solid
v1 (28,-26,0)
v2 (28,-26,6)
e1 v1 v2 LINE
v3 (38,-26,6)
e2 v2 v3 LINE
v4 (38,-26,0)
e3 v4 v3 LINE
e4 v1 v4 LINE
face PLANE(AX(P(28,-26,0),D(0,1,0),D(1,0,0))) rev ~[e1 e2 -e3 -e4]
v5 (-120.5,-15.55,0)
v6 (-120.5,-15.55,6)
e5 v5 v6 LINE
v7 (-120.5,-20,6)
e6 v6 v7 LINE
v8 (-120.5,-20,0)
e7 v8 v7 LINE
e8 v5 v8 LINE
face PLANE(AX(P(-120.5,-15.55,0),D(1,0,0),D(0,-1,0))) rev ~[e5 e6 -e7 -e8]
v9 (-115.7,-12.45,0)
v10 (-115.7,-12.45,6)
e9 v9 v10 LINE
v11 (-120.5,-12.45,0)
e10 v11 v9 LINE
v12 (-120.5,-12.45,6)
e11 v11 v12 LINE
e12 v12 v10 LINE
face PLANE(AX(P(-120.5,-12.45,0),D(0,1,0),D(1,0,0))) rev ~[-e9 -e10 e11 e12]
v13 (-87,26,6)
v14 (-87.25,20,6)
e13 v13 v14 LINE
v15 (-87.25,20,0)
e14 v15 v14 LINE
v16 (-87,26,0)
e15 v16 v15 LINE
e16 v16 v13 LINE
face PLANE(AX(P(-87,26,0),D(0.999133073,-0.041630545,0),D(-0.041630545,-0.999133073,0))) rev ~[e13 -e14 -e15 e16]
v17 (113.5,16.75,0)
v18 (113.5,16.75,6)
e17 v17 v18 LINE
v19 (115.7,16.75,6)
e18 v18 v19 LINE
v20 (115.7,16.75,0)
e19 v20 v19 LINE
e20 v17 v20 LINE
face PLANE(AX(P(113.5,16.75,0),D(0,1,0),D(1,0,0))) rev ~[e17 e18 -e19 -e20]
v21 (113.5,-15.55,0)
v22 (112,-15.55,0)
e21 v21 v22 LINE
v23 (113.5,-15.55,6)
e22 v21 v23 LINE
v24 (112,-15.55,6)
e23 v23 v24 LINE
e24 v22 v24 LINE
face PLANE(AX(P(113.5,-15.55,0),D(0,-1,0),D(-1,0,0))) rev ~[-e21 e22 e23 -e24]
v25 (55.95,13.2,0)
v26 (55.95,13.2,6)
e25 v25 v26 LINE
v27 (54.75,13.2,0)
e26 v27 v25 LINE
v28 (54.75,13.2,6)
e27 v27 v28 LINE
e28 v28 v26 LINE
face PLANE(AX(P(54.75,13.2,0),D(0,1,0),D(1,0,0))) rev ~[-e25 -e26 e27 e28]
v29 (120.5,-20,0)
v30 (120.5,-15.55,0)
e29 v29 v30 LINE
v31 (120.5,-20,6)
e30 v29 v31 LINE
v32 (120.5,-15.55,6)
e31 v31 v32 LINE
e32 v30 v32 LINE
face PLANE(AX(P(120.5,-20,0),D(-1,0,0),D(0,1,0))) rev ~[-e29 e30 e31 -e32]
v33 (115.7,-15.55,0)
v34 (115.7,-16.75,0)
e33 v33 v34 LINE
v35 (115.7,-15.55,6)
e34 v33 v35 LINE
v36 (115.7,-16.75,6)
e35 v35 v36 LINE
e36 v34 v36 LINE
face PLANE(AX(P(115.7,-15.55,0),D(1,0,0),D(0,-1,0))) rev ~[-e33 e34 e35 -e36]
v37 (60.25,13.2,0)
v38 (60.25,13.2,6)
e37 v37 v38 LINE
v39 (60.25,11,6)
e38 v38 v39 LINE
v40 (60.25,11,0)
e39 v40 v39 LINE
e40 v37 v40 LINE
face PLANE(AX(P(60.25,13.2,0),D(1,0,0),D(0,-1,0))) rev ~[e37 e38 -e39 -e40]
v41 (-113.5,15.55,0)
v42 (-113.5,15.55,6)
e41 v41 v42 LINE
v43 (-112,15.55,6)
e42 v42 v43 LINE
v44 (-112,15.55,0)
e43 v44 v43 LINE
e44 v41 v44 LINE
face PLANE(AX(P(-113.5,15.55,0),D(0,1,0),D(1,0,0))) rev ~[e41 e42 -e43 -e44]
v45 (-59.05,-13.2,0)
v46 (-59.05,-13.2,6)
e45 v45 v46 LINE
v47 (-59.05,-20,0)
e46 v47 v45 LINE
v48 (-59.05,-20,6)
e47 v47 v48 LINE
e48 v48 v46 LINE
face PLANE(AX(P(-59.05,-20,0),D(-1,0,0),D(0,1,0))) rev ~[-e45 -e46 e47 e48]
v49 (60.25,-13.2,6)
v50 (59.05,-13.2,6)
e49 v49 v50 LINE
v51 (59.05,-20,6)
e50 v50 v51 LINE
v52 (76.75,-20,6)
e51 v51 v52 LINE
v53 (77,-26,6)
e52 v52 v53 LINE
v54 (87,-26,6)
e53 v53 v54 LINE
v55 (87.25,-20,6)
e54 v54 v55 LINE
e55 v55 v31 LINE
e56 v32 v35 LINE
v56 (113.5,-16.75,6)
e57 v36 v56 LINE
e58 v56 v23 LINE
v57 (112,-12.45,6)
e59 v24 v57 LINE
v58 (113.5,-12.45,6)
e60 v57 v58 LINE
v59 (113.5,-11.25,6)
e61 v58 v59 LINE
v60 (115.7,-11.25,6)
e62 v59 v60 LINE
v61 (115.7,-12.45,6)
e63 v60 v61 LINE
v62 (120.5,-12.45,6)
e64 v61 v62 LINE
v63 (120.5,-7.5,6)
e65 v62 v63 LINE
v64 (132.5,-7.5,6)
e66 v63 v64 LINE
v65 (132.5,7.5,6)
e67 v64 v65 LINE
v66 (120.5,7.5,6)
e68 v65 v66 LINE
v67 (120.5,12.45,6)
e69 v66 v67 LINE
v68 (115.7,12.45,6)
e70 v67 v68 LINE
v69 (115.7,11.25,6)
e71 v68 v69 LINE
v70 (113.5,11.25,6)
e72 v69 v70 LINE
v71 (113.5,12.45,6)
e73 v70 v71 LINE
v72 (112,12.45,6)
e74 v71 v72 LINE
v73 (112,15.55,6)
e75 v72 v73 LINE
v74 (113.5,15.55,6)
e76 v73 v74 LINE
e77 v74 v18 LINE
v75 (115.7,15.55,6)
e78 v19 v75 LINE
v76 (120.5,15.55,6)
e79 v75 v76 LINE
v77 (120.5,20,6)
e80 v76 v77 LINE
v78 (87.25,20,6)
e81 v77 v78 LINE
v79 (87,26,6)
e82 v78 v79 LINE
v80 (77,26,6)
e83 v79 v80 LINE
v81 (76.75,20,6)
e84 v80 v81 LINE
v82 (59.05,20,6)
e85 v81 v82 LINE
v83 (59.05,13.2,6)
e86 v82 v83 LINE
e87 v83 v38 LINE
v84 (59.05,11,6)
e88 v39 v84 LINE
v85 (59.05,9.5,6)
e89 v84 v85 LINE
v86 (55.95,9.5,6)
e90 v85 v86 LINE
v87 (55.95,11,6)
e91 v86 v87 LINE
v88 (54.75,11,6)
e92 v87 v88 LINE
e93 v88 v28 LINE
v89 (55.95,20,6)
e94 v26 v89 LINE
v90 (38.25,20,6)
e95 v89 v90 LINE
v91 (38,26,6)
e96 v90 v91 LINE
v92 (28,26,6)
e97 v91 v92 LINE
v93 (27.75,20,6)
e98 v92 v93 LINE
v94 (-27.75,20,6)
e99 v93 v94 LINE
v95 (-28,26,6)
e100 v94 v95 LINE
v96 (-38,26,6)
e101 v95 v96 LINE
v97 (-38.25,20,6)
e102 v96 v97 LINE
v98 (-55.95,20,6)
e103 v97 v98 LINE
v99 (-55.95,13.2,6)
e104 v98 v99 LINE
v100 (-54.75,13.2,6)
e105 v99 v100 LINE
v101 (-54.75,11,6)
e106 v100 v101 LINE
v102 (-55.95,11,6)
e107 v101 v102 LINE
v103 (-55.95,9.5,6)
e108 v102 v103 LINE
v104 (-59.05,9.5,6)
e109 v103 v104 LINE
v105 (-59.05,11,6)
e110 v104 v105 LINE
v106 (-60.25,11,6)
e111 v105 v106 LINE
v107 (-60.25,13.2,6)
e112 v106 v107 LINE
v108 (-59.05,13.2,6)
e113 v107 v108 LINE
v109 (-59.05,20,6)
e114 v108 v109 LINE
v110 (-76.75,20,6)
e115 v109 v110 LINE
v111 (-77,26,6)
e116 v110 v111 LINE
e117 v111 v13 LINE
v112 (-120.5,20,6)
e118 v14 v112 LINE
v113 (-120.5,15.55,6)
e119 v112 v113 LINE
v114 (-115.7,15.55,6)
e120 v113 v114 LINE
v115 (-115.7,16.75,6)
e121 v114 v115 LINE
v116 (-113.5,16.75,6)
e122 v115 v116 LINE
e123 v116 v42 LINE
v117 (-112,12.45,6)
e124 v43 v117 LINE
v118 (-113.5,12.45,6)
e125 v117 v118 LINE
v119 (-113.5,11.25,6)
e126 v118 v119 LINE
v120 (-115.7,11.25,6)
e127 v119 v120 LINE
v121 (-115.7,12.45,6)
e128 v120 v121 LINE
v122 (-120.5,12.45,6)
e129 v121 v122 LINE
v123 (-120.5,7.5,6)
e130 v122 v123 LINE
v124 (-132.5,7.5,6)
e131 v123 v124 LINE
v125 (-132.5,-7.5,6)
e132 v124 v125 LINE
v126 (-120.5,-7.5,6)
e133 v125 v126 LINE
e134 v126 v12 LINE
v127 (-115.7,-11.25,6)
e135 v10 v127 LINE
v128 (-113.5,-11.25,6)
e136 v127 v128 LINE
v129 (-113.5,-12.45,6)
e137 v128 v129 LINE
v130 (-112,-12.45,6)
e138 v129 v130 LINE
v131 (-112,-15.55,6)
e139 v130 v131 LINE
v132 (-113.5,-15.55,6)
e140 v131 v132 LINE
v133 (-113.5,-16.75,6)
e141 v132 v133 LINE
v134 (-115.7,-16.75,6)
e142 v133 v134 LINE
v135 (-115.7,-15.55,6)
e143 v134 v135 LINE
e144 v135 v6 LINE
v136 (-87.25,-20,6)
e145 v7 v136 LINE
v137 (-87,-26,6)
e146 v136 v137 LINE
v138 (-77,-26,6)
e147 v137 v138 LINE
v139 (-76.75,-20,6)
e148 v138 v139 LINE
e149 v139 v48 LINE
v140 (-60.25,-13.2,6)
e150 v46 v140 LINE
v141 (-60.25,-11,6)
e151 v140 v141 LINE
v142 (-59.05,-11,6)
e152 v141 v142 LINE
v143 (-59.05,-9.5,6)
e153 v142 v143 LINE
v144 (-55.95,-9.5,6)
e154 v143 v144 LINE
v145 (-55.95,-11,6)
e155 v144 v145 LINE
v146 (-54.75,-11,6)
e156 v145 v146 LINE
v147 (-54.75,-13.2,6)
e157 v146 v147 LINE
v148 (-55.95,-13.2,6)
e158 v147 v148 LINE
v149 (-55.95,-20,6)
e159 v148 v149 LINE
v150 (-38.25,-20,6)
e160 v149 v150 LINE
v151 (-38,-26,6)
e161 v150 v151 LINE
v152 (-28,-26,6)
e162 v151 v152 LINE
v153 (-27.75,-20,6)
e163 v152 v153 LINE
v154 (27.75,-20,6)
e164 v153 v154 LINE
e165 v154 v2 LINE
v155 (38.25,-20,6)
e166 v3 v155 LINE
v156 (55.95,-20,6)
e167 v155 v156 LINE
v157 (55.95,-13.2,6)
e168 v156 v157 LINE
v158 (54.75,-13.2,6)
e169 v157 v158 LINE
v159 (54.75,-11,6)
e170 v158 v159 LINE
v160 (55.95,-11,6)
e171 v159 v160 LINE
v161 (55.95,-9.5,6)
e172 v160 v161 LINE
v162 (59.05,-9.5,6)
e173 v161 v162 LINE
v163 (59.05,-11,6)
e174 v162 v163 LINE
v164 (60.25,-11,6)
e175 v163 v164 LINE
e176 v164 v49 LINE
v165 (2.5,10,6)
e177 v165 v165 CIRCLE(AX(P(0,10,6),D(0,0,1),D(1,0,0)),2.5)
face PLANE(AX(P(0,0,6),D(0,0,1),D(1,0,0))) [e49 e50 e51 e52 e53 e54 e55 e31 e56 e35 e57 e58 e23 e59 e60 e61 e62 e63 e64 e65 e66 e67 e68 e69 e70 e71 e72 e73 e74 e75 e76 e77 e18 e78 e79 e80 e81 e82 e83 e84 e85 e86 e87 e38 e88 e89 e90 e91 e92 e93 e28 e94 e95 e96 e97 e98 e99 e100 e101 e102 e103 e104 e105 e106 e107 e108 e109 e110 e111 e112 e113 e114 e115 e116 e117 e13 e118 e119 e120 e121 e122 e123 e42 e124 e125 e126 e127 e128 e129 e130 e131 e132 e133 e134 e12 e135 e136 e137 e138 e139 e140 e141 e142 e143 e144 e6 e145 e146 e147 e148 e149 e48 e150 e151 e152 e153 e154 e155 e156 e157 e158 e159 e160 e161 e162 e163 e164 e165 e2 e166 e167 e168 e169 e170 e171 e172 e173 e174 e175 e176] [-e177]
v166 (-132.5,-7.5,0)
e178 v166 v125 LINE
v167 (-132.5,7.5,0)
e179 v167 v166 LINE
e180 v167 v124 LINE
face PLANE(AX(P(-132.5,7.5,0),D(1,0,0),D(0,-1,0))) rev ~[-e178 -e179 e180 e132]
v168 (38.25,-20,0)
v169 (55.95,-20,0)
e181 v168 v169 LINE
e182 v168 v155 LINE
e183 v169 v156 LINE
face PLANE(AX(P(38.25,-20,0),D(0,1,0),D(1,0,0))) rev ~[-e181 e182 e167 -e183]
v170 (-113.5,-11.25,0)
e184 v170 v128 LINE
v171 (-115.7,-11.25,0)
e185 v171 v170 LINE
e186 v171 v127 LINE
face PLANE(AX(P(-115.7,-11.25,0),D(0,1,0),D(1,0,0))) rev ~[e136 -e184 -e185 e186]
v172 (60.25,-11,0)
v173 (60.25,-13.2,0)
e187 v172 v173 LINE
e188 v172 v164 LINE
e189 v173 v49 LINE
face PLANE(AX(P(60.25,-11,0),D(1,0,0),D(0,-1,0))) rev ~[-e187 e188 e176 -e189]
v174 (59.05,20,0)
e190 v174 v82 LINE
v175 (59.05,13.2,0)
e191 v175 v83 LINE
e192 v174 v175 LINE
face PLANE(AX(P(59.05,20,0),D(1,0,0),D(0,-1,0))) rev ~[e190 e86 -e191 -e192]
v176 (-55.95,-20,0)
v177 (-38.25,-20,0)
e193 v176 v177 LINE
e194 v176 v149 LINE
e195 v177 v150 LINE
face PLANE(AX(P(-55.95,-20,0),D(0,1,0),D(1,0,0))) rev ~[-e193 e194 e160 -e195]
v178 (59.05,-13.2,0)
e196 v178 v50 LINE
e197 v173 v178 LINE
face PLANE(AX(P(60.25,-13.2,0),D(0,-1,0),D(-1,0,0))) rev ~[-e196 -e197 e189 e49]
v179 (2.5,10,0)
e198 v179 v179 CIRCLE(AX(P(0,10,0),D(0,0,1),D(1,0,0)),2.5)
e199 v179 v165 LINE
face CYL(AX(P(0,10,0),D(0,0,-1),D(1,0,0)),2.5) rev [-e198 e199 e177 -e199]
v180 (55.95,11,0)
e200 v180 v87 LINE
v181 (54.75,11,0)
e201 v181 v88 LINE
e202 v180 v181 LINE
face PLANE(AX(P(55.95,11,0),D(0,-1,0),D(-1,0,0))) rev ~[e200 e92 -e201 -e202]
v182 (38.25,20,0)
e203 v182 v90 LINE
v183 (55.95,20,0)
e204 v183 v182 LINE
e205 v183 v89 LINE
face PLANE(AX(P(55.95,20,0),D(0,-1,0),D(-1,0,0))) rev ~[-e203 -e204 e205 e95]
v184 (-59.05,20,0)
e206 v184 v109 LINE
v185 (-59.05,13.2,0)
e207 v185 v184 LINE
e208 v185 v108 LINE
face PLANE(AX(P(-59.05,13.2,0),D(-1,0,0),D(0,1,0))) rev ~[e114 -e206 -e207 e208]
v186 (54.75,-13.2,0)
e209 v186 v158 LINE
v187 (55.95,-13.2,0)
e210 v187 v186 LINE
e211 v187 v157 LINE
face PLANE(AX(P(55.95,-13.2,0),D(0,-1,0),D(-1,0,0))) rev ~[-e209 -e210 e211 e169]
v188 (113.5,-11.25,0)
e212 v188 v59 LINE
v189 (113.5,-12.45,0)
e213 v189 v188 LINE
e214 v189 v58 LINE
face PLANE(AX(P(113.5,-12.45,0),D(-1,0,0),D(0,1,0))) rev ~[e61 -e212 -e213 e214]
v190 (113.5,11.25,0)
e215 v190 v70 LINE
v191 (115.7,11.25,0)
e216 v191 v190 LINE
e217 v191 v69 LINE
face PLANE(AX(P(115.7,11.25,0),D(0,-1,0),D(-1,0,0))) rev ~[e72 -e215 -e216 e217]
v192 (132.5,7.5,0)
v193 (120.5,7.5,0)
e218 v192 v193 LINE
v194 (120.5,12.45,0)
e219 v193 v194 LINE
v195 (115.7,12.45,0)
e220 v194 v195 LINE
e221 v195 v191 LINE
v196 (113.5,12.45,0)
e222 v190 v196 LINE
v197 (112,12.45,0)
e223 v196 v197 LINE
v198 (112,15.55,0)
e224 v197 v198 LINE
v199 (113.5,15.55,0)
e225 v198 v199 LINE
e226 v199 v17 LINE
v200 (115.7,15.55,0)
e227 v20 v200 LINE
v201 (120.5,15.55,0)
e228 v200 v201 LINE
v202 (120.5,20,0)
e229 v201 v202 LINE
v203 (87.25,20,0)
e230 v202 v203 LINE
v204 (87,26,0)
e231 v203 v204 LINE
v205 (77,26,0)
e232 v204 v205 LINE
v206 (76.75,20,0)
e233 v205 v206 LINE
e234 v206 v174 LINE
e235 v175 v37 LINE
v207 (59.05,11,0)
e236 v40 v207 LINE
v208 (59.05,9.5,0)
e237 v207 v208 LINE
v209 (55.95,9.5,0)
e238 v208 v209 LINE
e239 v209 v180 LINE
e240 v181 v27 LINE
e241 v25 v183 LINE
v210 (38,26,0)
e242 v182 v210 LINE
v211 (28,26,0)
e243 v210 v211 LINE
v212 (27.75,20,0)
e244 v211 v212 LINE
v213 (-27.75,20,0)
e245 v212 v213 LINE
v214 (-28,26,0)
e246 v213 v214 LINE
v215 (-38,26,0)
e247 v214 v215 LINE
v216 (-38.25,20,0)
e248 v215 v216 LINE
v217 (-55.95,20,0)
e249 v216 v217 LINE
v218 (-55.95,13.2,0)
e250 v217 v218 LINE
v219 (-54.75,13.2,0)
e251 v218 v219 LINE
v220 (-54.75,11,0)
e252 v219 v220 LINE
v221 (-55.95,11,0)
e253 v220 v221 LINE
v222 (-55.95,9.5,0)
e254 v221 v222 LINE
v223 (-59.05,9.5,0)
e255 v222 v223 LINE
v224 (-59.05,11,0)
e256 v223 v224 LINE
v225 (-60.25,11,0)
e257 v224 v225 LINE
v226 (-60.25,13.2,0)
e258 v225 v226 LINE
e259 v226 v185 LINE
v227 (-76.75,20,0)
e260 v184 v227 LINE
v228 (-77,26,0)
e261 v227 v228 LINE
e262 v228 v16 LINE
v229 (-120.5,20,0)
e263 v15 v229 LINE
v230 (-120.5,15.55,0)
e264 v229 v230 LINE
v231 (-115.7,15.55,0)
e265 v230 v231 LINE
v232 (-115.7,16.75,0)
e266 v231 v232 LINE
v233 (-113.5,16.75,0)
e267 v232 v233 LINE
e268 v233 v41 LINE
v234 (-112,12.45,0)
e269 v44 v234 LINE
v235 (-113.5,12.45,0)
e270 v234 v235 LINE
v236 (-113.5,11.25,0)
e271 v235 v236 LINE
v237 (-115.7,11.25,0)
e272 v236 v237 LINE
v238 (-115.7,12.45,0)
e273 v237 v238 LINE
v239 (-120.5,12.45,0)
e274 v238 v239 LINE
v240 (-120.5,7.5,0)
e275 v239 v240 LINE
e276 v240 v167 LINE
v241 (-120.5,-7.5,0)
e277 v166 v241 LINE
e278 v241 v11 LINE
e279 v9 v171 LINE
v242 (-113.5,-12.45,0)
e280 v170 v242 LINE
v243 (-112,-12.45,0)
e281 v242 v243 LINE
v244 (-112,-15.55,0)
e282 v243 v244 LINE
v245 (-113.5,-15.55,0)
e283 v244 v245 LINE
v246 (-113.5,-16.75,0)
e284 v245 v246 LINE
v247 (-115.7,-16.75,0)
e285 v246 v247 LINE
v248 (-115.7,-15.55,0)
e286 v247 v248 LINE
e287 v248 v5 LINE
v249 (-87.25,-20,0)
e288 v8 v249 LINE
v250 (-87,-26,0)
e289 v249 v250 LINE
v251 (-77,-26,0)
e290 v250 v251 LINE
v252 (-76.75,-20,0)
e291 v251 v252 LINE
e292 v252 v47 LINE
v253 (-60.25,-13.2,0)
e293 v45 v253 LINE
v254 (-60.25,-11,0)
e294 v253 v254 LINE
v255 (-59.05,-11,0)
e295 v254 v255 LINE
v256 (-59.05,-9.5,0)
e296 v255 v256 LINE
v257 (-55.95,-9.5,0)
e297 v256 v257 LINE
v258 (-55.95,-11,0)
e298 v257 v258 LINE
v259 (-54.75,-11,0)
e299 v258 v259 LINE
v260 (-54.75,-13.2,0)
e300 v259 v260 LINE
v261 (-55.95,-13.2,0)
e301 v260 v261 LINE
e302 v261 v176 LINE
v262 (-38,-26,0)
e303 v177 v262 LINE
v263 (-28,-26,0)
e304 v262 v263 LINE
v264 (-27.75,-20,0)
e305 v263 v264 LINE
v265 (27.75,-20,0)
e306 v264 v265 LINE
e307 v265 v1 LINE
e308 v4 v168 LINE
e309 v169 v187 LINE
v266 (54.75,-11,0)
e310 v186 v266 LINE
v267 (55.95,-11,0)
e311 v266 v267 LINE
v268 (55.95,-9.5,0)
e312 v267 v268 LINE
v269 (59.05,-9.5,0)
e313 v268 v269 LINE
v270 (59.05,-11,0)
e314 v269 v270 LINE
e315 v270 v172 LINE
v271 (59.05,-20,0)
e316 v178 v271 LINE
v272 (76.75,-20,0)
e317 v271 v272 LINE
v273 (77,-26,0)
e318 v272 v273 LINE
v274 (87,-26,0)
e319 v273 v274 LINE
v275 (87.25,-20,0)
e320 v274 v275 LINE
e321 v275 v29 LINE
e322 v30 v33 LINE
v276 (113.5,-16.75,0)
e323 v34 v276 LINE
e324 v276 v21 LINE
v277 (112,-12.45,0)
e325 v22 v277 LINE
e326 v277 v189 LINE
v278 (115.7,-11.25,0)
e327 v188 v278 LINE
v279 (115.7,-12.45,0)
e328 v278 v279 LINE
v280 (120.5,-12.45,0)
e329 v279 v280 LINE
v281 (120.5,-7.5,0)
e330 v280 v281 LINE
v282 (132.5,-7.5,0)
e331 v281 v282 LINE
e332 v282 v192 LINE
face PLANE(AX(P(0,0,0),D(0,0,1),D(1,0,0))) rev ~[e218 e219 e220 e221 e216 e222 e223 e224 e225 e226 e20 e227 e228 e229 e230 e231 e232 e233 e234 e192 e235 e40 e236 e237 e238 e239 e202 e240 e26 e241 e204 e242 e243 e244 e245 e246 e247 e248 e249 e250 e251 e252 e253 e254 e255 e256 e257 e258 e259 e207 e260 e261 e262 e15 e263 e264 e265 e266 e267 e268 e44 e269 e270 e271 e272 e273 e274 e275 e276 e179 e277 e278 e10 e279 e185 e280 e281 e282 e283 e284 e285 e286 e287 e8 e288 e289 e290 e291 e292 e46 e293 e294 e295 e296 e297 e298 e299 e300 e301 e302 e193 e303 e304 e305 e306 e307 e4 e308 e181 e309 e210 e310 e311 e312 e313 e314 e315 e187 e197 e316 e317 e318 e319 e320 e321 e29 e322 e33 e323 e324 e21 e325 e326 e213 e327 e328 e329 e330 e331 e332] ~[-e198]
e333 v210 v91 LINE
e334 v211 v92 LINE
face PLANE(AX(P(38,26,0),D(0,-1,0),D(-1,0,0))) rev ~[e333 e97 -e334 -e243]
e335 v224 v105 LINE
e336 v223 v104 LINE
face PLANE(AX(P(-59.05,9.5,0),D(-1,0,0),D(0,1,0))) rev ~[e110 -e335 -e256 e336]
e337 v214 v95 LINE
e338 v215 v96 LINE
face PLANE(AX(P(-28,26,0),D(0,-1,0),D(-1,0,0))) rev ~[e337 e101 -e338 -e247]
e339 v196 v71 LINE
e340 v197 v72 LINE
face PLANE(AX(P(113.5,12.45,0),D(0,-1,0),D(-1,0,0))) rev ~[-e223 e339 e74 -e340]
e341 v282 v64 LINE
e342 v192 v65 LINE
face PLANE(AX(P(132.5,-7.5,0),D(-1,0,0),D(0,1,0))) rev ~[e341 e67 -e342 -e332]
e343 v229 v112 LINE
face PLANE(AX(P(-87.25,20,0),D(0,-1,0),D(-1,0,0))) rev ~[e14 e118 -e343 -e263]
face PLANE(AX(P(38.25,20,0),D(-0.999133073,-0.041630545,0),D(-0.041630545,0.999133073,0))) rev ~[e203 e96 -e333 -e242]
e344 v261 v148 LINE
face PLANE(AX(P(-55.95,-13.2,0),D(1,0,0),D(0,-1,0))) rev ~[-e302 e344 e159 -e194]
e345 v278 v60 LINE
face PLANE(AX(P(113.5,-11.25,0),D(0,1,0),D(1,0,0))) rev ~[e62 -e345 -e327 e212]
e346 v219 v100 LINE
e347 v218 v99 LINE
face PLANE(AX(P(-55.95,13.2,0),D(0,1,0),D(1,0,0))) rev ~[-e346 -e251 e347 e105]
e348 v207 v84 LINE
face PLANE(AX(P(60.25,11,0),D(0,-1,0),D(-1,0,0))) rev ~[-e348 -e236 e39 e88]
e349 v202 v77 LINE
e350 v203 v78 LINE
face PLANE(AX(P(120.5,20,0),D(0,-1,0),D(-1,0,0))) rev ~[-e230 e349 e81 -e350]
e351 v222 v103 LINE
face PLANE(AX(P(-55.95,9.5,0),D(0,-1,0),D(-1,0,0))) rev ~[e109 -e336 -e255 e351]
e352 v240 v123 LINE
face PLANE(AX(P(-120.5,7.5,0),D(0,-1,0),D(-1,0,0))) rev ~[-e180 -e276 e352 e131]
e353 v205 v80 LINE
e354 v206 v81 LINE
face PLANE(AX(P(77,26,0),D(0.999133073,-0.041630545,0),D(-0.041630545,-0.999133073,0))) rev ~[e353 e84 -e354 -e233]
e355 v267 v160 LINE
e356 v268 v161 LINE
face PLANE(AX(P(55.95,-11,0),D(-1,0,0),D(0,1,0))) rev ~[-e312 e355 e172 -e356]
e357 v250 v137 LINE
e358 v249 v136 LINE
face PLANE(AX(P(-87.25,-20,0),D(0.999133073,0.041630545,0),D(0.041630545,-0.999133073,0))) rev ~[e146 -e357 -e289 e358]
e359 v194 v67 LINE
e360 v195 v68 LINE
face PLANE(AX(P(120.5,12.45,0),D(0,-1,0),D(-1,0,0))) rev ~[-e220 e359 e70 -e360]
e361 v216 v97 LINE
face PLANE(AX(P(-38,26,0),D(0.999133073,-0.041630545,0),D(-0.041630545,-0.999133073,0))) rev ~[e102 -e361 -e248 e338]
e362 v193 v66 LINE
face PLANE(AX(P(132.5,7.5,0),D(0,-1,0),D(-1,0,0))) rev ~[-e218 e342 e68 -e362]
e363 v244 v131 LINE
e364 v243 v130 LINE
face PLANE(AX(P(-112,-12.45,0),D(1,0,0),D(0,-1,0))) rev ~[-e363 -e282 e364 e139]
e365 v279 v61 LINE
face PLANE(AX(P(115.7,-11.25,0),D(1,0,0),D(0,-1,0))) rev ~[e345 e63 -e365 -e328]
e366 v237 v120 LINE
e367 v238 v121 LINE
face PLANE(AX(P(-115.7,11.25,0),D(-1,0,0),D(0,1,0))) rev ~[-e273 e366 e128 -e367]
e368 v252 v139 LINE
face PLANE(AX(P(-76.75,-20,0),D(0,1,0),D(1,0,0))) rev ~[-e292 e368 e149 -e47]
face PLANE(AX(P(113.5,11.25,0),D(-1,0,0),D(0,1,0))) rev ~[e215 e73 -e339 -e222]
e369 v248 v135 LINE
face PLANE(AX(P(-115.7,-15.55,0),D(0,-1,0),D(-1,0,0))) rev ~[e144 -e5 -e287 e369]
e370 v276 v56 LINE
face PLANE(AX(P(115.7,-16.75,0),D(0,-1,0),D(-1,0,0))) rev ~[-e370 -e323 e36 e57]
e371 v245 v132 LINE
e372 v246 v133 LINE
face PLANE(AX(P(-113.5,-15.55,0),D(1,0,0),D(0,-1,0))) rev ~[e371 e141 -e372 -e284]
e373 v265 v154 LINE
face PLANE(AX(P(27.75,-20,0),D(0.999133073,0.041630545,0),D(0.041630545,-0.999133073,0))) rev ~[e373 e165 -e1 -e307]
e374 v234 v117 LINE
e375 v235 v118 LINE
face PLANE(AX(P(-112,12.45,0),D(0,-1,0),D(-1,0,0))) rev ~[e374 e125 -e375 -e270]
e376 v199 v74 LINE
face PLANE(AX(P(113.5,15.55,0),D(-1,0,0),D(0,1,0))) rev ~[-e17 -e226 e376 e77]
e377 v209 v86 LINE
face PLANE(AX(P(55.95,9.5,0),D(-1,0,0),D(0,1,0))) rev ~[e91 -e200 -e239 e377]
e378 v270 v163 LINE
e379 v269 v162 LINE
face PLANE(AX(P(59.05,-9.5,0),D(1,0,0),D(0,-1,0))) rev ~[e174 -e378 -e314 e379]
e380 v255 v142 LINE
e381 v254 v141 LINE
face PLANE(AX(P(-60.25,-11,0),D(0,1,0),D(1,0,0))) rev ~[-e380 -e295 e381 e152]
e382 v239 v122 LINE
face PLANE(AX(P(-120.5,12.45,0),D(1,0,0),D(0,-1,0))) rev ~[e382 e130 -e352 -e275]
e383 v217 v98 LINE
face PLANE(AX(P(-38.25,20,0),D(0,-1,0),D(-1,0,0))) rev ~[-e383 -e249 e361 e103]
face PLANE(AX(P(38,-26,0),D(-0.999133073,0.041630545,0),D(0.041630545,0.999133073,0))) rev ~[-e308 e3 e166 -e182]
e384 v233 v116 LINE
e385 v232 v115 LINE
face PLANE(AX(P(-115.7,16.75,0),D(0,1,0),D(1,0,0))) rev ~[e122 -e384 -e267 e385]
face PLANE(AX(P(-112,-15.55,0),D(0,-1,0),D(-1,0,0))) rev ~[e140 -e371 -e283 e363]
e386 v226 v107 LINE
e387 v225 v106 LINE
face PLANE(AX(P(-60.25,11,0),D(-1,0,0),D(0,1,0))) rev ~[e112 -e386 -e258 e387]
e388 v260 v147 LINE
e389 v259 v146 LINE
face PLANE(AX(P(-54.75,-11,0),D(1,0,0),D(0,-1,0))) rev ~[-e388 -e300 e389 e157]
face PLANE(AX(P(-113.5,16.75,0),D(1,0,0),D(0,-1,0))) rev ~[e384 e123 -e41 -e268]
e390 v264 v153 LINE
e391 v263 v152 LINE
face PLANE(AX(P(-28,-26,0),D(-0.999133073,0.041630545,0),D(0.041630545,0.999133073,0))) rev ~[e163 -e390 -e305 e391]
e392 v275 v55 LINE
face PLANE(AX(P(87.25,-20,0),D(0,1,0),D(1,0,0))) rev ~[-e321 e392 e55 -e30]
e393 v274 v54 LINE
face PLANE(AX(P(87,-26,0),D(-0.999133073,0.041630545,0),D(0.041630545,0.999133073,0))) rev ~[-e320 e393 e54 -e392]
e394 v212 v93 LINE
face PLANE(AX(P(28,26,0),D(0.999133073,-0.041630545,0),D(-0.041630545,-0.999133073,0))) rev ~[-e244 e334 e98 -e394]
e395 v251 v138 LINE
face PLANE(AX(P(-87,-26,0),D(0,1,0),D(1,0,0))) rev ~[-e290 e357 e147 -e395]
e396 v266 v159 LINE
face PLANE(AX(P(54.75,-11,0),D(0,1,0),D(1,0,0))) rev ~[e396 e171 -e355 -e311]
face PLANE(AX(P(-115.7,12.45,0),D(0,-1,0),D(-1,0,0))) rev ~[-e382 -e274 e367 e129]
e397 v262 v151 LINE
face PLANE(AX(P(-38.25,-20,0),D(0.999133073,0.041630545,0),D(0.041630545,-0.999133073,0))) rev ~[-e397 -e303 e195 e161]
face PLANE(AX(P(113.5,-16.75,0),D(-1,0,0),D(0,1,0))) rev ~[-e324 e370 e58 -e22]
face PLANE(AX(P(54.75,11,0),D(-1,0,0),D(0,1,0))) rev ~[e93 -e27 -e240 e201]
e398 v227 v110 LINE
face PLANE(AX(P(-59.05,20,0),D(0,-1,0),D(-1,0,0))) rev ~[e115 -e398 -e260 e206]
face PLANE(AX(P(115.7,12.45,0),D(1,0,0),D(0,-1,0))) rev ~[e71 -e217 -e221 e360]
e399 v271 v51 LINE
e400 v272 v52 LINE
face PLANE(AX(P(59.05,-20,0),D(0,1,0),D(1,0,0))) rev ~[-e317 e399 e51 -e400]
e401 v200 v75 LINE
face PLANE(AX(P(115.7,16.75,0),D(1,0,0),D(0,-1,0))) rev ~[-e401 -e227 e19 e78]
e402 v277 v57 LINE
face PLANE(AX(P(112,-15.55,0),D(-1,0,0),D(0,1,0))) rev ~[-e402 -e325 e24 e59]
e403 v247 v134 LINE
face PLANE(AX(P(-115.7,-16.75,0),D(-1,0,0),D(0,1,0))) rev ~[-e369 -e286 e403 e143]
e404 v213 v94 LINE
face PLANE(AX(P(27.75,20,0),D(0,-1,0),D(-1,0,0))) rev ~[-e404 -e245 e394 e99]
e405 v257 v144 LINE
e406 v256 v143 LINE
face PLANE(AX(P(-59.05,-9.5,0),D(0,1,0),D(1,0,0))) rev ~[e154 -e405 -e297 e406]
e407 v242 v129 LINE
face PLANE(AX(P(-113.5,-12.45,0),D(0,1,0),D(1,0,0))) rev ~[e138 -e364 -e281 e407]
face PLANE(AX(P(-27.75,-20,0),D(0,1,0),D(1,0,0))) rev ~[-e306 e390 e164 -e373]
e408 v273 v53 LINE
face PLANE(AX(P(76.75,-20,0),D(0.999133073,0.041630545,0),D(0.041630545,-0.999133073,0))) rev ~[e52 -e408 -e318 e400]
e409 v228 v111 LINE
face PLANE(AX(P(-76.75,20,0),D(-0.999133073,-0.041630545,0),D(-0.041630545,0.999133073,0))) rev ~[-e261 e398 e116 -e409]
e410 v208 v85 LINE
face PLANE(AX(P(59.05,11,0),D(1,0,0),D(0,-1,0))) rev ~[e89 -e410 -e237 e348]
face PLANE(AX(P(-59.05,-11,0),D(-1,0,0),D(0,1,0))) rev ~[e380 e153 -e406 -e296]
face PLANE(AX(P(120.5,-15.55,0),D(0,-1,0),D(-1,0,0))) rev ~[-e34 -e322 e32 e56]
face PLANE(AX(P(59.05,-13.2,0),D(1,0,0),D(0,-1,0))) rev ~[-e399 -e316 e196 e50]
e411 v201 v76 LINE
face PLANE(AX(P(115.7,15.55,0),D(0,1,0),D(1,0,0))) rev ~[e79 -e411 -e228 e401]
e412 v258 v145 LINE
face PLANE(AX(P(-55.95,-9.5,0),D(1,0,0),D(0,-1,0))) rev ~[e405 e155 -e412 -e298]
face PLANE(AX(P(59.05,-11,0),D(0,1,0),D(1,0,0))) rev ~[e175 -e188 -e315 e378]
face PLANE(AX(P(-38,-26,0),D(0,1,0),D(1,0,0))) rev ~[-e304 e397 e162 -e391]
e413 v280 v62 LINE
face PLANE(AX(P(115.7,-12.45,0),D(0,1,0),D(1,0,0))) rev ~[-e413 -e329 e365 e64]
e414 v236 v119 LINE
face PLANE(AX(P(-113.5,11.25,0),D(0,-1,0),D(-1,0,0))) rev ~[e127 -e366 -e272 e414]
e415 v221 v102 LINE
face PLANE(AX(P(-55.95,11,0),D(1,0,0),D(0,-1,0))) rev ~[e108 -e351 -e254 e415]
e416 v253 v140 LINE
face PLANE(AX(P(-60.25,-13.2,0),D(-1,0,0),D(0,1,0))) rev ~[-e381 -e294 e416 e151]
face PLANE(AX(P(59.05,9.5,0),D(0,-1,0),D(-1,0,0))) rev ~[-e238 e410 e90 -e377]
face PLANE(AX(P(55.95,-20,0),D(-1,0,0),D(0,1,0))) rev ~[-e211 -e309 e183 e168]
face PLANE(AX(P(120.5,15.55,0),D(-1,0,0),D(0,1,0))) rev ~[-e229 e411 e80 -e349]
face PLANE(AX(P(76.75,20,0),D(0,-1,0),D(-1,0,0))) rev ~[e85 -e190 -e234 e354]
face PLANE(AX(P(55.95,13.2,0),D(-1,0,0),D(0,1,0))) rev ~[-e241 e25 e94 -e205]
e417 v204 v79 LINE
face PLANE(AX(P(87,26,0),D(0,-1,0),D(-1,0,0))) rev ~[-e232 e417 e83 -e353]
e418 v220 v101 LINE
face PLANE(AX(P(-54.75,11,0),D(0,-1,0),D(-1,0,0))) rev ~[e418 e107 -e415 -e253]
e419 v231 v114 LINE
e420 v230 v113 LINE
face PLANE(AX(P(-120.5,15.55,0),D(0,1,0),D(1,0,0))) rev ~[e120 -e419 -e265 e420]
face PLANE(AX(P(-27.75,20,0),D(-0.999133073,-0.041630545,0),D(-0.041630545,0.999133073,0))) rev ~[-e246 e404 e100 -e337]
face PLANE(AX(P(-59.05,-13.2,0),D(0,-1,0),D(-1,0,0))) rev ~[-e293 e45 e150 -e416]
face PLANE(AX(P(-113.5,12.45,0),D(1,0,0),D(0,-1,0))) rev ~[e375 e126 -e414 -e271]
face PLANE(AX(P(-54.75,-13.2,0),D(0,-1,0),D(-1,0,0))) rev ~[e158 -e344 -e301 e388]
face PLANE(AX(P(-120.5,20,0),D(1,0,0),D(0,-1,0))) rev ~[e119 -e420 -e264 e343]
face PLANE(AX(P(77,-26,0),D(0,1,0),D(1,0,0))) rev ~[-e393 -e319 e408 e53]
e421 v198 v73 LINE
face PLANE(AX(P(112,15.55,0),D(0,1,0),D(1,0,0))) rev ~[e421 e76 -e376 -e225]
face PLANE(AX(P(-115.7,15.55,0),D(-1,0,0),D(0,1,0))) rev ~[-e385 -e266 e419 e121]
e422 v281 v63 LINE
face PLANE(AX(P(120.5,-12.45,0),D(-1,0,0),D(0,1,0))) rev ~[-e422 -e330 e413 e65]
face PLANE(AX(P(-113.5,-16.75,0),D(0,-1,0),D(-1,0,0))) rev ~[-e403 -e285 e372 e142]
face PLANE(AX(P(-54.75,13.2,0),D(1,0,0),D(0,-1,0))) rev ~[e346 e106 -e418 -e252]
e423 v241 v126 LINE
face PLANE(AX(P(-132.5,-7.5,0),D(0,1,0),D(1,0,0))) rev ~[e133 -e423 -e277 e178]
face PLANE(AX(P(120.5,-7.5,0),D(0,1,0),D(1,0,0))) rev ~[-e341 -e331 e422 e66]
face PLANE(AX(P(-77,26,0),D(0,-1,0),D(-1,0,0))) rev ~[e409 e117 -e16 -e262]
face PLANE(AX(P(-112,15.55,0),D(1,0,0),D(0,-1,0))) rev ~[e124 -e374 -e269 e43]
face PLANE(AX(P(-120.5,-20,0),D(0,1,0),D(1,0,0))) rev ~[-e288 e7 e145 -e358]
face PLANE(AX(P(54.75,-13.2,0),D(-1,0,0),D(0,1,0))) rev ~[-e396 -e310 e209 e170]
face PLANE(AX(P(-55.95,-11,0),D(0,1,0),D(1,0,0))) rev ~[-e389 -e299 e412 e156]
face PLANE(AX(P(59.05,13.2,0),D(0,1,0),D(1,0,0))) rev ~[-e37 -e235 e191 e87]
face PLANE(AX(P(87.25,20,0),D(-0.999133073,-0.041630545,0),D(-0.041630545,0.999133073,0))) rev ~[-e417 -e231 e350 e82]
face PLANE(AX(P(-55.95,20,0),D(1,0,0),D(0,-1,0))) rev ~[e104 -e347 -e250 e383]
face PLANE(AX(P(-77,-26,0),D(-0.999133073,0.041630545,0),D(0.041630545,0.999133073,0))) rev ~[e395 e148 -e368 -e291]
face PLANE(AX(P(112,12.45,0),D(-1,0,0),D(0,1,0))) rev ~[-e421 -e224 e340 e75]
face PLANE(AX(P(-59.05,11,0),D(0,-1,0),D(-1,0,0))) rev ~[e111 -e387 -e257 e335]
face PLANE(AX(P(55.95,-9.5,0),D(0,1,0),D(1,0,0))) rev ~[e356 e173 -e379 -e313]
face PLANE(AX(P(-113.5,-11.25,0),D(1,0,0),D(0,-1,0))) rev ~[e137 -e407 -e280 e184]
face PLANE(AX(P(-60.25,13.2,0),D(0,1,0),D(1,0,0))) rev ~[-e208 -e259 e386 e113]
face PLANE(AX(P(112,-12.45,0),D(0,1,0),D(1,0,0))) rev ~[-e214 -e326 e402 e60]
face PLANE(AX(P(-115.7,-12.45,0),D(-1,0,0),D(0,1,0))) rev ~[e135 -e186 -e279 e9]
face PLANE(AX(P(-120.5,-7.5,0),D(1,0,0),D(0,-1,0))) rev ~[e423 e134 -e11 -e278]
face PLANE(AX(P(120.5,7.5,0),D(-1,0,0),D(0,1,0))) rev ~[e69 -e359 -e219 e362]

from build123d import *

# Parameters (mm, degrees)
SKETCH_1_R      = 2.5
EXTRUDE_1_DEPTH = 6


with BuildPart() as part:
    # Эскиз1 → Бобышка-Вытянуть1 (new body)
    with BuildSketch(Plane.XY):
        Polygon((-28, -26), (-27.75, -20), (27.75, -20), (28, -26), (38, -26), (38.25, -20), (43.45, -20), (55.95, -20), (55.95, -13.2), (54.75, -13.2), (54.75, -11), (55.95, -11), (55.95, -9.5), (59.05, -9.5), (59.05, -11), (60.25, -11), (60.25, -13.2), (59.05, -13.2), (59.05, -20), (64.25, -20), (76.75, -20), (77, -26), (87, -26), (87.25, -20), (120.5, -20), (120.5, -15.55), (115.7, -15.55), (115.7, -16.75), (113.5, -16.75), (113.5, -15.55), (112, -15.55), (112, -12.45), (113.5, -12.45), (113.5, -11.25), (115.7, -11.25), (115.7, -12.45), (120.5, -12.45), (120.5, -7.5), (132.5, -7.5), (132.5, 7.5), (120.5, 7.5), (120.5, 12.45), (115.7, 12.45), (115.7, 11.25), (113.5, 11.25), (113.5, 12.45), (112, 12.45), (112, 15.55), (113.5, 15.55), (113.5, 16.75), (115.7, 16.75), (115.7, 15.55), (120.5, 15.55), (120.5, 20), (87.25, 20), (87, 26), (77, 26), (76.75, 20), (64.25, 20), (59.05, 20), (59.05, 13.2), (60.25, 13.2), (60.25, 11), (59.05, 11), (59.05, 9.5), (55.95, 9.5), (55.95, 11), (54.75, 11), (54.75, 13.2), (55.95, 13.2), (55.95, 20), (43.45, 20), (38.25, 20), (38, 26), (28, 26), (27.75, 20), (-27.75, 20), (-28, 26), (-38, 26), (-38.25, 20), (-43.45, 20), (-55.95, 20), (-55.95, 13.2), (-54.75, 13.2), (-54.75, 11), (-55.95, 11), (-55.95, 9.5), (-59.05, 9.5), (-59.05, 11), (-60.25, 11), (-60.25, 13.2), (-59.05, 13.2), (-59.05, 20), (-71.55, 20), (-76.75, 20), (-77, 26), (-87, 26), (-87.25, 20), (-120.5, 20), (-120.5, 15.55), (-115.7, 15.55), (-115.7, 16.75), (-113.5, 16.75), (-113.5, 15.55), (-112, 15.55), (-112, 12.45), (-113.5, 12.45), (-113.5, 11.25), (-115.7, 11.25), (-115.7, 12.45), (-120.5, 12.45), (-120.5, 7.5), (-132.5, 7.5), (-132.5, -7.5), (-120.5, -7.5), (-120.5, -12.45), (-115.7, -12.45), (-115.7, -11.25), (-113.5, -11.25), (-113.5, -12.45), (-112, -12.45), (-112, -15.55), (-113.5, -15.55), (-113.5, -16.75), (-115.7, -16.75), (-115.7, -15.55), (-120.5, -15.55), (-120.5, -20), (-87.25, -20), (-87, -26), (-77, -26), (-76.75, -20), (-71.55, -20), (-59.05, -20), (-59.05, -13.2), (-60.25, -13.2), (-60.25, -11), (-59.05, -11), (-59.05, -9.5), (-55.95, -9.5), (-55.95, -11), (-54.75, -11), (-54.75, -13.2), (-55.95, -13.2), (-55.95, -20), (-43.45, -20), (-38.25, -20), (-38, -26), align=None)
        with Locations((0, 10)):
            Circle(SKETCH_1_R, mode=Mode.SUBTRACT)
    extrude(amount=EXTRUDE_1_DEPTH)


solid = part.part
